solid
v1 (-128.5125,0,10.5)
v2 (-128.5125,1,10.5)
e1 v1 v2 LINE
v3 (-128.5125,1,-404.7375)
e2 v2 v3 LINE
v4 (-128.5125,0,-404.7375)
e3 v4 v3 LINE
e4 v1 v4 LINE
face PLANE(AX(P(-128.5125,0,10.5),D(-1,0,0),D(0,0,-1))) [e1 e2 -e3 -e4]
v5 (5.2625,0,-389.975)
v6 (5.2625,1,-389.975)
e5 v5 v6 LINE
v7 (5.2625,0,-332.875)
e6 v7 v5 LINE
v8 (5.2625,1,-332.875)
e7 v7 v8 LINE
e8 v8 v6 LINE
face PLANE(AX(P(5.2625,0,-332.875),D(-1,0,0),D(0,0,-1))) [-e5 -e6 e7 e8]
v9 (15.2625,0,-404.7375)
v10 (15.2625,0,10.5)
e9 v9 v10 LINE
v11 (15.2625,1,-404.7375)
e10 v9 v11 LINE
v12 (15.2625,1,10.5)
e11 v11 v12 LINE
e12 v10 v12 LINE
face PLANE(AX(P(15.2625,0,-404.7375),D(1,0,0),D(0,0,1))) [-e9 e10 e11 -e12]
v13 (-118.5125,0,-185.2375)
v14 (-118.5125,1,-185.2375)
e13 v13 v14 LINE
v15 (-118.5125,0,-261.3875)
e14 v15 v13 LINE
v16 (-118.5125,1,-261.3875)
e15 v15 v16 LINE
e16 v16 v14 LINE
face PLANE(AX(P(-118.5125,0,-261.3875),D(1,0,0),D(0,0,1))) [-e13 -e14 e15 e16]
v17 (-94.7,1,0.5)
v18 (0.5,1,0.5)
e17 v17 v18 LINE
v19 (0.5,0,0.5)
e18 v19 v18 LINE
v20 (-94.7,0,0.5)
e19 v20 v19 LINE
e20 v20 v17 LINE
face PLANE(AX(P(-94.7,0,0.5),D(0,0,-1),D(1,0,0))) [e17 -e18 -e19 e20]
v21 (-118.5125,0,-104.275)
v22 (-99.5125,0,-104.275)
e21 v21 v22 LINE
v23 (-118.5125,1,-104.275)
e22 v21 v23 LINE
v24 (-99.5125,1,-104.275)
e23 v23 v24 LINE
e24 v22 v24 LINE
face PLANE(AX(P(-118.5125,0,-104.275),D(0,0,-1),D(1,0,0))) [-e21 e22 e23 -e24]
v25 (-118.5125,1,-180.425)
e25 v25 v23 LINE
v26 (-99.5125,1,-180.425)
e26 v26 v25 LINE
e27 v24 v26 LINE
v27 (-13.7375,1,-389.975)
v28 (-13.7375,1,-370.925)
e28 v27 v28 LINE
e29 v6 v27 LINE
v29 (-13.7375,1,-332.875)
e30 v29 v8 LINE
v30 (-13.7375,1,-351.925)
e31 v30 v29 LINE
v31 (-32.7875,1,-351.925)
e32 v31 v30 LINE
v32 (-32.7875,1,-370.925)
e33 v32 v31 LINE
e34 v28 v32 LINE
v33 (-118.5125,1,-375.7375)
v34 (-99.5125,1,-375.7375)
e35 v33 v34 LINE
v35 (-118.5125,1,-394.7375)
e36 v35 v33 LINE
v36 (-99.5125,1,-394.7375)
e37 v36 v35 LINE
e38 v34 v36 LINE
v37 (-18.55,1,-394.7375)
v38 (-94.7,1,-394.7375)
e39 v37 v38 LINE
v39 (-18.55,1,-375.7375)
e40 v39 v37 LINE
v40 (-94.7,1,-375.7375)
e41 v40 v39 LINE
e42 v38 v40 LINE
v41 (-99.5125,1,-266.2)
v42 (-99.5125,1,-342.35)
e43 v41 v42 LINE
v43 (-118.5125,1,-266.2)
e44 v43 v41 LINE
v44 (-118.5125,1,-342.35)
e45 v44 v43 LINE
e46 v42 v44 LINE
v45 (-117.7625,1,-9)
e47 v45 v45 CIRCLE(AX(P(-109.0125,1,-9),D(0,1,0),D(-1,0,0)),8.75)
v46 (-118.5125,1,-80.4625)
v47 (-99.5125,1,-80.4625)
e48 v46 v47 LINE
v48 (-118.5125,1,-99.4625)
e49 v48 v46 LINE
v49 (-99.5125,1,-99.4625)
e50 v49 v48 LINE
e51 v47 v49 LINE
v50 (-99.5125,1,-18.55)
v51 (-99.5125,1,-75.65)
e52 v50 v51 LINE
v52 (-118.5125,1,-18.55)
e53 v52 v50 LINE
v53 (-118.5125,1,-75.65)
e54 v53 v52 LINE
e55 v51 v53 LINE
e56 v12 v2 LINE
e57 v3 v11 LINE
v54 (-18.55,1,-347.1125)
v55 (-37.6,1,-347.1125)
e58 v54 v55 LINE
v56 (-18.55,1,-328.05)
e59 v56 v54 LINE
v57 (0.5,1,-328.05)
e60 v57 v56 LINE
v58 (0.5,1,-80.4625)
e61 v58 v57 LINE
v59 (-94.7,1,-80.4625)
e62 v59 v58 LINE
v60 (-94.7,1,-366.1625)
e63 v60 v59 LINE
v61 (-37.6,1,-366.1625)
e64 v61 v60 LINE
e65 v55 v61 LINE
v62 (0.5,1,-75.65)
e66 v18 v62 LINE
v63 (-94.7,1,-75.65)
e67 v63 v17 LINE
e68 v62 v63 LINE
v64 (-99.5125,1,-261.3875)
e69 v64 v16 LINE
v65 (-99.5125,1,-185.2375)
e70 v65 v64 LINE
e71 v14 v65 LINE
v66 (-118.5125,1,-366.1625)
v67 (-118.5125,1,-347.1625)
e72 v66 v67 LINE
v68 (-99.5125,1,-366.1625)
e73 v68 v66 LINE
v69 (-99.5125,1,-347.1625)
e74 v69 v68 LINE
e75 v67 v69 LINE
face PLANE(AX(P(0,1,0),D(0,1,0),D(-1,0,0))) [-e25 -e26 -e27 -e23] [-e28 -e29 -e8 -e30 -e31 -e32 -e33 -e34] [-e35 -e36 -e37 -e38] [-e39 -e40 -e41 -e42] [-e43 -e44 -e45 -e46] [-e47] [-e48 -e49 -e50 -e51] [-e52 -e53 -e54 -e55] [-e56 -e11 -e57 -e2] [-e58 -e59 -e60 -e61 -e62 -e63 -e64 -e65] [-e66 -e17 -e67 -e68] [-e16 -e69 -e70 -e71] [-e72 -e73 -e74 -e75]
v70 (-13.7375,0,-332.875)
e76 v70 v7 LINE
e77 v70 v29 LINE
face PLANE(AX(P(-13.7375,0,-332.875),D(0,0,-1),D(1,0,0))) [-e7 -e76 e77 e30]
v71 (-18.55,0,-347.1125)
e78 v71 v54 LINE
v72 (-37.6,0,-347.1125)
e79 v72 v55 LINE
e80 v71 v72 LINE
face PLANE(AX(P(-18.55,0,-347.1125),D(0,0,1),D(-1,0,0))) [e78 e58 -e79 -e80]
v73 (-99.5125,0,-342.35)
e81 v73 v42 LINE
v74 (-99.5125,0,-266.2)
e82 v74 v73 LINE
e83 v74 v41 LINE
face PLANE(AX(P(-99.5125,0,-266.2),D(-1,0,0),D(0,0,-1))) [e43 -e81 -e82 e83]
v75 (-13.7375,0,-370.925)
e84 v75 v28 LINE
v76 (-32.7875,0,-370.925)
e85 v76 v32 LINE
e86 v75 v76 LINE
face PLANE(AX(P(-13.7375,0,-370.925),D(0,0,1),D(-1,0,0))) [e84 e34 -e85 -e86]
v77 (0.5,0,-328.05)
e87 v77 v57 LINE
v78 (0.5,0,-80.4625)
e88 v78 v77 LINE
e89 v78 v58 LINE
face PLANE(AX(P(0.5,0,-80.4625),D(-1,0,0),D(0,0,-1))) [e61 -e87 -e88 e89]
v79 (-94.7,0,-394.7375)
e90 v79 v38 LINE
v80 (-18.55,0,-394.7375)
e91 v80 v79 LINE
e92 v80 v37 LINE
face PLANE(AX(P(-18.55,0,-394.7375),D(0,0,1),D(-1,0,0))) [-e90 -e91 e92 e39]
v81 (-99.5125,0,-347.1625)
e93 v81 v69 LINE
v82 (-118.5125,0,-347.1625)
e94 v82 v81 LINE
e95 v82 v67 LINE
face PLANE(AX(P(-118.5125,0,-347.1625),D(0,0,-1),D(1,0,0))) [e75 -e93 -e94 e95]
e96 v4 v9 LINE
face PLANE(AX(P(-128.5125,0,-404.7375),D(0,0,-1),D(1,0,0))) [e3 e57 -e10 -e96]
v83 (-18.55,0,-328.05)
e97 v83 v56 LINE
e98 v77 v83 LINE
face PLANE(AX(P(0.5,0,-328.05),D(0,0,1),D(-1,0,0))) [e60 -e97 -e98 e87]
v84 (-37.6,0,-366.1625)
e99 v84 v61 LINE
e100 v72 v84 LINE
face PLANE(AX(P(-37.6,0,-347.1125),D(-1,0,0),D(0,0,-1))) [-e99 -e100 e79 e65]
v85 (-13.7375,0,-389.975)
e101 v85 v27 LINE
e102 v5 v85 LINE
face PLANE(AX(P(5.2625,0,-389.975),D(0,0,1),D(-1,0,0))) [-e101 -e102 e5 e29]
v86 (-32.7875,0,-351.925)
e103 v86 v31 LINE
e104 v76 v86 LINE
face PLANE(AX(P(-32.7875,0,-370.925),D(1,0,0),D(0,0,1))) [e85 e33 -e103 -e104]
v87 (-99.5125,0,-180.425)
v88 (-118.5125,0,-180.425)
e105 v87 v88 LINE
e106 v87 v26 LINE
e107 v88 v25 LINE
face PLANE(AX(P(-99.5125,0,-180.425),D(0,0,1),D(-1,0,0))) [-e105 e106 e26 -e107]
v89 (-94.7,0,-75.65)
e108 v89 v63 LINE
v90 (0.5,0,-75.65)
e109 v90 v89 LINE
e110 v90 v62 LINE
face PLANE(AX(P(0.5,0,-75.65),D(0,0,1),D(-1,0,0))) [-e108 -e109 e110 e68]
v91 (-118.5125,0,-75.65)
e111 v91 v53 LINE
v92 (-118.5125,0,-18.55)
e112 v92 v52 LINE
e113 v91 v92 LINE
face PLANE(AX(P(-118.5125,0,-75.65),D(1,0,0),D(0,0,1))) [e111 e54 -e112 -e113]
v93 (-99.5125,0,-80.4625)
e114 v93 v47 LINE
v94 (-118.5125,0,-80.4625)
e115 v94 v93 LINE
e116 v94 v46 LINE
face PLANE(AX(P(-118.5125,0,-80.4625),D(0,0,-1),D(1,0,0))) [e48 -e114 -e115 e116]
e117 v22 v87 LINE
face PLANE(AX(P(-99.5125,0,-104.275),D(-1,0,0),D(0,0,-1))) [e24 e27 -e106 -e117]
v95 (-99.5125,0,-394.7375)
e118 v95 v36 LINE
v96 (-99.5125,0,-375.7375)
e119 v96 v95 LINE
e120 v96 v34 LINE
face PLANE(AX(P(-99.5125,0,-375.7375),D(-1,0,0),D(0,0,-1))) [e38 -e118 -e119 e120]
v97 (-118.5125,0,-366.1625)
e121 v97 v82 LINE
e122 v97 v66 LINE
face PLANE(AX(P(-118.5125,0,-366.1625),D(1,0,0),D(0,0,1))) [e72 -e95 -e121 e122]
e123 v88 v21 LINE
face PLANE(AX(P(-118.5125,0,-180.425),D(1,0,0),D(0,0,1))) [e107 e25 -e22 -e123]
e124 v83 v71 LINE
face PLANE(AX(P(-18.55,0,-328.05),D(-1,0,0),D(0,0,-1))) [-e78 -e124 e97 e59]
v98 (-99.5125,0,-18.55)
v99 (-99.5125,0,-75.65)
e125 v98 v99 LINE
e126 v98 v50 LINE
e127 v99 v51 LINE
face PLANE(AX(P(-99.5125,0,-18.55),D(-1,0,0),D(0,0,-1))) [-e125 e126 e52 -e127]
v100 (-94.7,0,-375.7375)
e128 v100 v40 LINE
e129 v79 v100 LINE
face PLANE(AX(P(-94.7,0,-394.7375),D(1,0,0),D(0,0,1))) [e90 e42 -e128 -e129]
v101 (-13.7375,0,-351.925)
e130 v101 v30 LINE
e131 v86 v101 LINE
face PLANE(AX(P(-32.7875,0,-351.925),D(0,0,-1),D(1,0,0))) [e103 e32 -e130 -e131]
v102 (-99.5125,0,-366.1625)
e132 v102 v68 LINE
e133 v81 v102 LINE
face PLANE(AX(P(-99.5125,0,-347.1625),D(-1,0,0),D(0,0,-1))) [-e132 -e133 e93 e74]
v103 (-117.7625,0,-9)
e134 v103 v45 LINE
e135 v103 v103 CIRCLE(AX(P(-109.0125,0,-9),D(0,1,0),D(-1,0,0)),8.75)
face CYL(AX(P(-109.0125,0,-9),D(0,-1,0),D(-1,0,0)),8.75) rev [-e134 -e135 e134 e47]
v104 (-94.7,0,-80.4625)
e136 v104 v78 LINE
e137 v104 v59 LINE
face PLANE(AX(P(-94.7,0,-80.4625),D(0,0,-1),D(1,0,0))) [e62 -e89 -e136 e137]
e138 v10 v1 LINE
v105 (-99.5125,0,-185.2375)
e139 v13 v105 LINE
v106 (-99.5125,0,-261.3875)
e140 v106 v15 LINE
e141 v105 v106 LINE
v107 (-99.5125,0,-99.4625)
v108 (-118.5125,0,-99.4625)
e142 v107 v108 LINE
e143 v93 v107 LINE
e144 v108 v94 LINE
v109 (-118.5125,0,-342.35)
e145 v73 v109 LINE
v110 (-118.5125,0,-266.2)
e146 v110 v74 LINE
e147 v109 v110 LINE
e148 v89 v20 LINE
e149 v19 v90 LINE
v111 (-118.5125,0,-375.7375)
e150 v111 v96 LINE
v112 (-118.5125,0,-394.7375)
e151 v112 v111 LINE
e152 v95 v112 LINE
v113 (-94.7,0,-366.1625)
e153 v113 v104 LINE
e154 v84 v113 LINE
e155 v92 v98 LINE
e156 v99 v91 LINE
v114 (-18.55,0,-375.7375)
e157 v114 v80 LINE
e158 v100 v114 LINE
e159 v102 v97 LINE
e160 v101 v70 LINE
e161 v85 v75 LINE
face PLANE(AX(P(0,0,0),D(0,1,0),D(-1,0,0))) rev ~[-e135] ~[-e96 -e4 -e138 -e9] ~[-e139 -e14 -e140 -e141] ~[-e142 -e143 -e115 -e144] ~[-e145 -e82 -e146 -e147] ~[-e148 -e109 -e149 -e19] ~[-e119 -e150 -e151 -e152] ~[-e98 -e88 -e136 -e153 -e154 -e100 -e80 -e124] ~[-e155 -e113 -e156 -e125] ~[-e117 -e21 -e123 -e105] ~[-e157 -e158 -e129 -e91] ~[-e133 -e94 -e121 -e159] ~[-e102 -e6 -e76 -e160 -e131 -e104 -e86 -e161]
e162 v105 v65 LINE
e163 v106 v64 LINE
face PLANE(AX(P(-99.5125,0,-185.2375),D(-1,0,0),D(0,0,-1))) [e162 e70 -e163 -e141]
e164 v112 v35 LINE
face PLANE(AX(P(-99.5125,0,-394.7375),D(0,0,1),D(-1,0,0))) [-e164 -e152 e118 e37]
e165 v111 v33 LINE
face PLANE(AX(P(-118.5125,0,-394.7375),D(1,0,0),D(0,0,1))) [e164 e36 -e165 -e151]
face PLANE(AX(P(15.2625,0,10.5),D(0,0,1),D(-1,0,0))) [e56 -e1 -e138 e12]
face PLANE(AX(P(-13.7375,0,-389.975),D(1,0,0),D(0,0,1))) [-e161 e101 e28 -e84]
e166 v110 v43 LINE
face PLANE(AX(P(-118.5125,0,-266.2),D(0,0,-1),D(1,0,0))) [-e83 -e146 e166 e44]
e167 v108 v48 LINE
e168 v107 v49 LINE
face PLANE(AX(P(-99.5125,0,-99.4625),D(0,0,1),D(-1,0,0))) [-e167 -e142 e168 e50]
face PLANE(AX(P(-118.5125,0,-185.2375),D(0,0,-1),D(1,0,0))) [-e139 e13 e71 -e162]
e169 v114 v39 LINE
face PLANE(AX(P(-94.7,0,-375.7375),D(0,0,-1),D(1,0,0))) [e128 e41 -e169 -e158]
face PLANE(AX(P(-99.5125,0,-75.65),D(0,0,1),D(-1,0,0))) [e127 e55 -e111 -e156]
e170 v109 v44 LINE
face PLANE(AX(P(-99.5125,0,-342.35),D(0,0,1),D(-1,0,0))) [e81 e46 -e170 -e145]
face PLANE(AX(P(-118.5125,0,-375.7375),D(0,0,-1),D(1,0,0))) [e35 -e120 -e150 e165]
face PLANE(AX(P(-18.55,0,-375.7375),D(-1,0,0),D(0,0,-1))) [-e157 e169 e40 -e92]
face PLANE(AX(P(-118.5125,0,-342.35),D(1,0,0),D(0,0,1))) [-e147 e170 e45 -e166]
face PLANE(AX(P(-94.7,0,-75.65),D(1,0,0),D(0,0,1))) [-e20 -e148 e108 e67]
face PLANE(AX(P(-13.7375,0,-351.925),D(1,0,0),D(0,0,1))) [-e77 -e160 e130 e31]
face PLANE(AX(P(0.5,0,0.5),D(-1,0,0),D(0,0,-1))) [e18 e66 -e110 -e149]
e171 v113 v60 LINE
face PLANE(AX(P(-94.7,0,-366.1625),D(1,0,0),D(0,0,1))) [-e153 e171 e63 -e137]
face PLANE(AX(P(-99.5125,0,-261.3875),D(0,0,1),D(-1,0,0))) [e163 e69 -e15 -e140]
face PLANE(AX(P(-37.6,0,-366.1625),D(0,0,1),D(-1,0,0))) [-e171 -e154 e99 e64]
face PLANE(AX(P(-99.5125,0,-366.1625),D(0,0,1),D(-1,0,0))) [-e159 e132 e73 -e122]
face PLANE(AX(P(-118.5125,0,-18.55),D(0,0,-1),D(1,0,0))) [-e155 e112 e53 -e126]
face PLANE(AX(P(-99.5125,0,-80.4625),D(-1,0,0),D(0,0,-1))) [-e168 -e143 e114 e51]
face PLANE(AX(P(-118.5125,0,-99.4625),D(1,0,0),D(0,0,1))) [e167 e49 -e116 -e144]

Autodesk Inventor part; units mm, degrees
ref_plane "YZ Plane" through (0, 0, 0) normal (1, 0, 0) x (0, 1, 0)
ref_plane "XZ Plane" through (0, 0, 0) normal (0, 1, 0) x (-1, 0, 0)
ref_plane "XY Plane" through (0, 0, 0) normal (0, 0, 1) x (1, 0, 0)
sketch "Sketch1" plane through (0, 0, 0) normal (0, 1, 0) x (-1, 0, 0)
  line L0 (0, 0) -> (18, 0)
  line L1 (18, 0) -> (18, -37.05)
  line L2 (18, -37.05) -> (0, -37.05)
  line L3 (0, -37.05) -> (0, 0)
  line L4 (18, -38.1) -> (0, -38.1)
  line L5 (0, -38.1) -> (0, -56.1)
  line L6 (0, -56.1) -> (18, -56.1)
  line L7 (18, -56.1) -> (18, -38.1)
  line L8 (0, -57.15) -> (37.05, -57.15)
  line L9 (37.05, -57.15) -> (37.05, -75.15)
  line L10 (37.05, -75.15) -> (0, -75.15)
  line L11 (0, -75.15) -> (0, -57.15)
  line L12 (19.05, -56.1) -> (37.05, -56.1)
  line L13 (37.05, -56.1) -> (37.05, -38.1)
  line L14 (37.05, -38.1) -> (19.05, -38.1)
  line L15 (19.05, -38.1) -> (19.05, -56.1)
  line L16 (19.05, -37.05) -> (37.05, -37.05)
  line L17 (37.05, -37.05) -> (37.05, -19.05)
  line L18 (37.05, -19.05) -> (19.05, -19.05)
  line L19 (19.05, -19.05) -> (19.05, -37.05)
  line L20 (19.05, -18) -> (37.05, -18)
  line L21 (37.05, -18) -> (37.05, 0)
  line L22 (37.05, 0) -> (19.05, 0)
  line L23 (19.05, 0) -> (19.05, -18)
  line L24 (38.1, 0) -> (56.1, 0)
  line L25 (56.1, 0) -> (56.1, -18)
  line L26 (56.1, -18) -> (38.1, -18)
  line L27 (38.1, -18) -> (38.1, 0)
  line L28 (38.1, -19.05) -> (56.1, -19.05)
  line L29 (56.1, -19.05) -> (56.1, -37.05)
  line L30 (56.1, -37.05) -> (38.1, -37.05)
  line L31 (38.1, -37.05) -> (38.1, -19.05)
  line L32 (38.1, -38.1) -> (56.1, -38.1)
  line L33 (56.1, -38.1) -> (56.1, -56.1)
  line L34 (56.1, -56.1) -> (38.1, -56.1)
  line L35 (38.1, -56.1) -> (38.1, -38.1)
  line L36 (38.1, -57.15) -> (75.15, -57.15)
  line L37 (75.15, -57.15) -> (75.15, -75.15)
  line L38 (75.15, -75.15) -> (38.1, -75.15)
  line L39 (38.1, -75.15) -> (38.1, -57.15)
  line L40 (57.15, -56.1) -> (75.15, -56.1)
  line L41 (75.15, -56.1) -> (75.15, -38.1)
  line L42 (75.15, -38.1) -> (57.15, -38.1)
  line L43 (57.15, -38.1) -> (57.15, -56.1)
  line L44 (57.15, -37.05) -> (75.15, -37.05)
  line L45 (75.15, -37.05) -> (75.15, -19.05)
  line L46 (75.15, -19.05) -> (57.15, -19.05)
  line L47 (57.15, -19.05) -> (57.15, -37.05)
  line L48 (57.15, -18) -> (75.15, -18)
  line L49 (75.15, -18) -> (75.15, 0)
  line L50 (75.15, 0) -> (57.15, 0)
  line L51 (57.15, 0) -> (57.15, -18)
  line L52 (76.2, 0) -> (94.2, 0)
  line L53 (94.2, 0) -> (94.2, -18)
  line L54 (94.2, -18) -> (76.2, -18)
  line L55 (76.2, -18) -> (76.2, 0)
  line L56 (76.2, -19.05) -> (94.2, -19.05)
  line L57 (94.2, -19.05) -> (94.2, -37.05)
  line L58 (94.2, -37.05) -> (76.2, -37.05)
  line L59 (76.2, -37.05) -> (76.2, -19.05)
  line L60 (76.2, -38.1) -> (94.2, -38.1)
  line L61 (94.2, -38.1) -> (94.2, -56.1)
  line L62 (94.2, -56.1) -> (76.2, -56.1)
  line L63 (76.2, -56.1) -> (76.2, -38.1)
  line L64 (76.2, -57.15) -> (94.2, -57.15)
  line L65 (94.2, -57.15) -> (94.2, -75.15)
  line L66 (94.2, -75.15) -> (76.2, -75.15)
  line L67 (76.2, -75.15) -> (76.2, -57.15)
  line L68 (100.0125, -19.05) -> (118.0125, -19.05)
  line L69 (118.0125, -19.05) -> (118.0125, -37.05)
  line L70 (118.0125, -37.05) -> (100.0125, -37.05)
  line L71 (100.0125, -37.05) -> (100.0125, -19.05)
  line L72 (100.0125, -38.1) -> (118.0125, -38.1)
  line L73 (118.0125, -38.1) -> (118.0125, -56.1)
  line L74 (118.0125, -56.1) -> (100.0125, -56.1)
  line L75 (100.0125, -56.1) -> (100.0125, -38.1)
  line L76 (100.0125, -57.15) -> (118.0125, -57.15)
  line L77 (118.0125, -57.15) -> (118.0125, -75.15)
  line L78 (118.0125, -75.15) -> (100.0125, -75.15)
  line L79 (100.0125, -75.15) -> (100.0125, -57.15)
  line L80 (0, -80.9625) -> (18, -80.9625)
  line L81 (18, -80.9625) -> (18, -103.725)
  line L82 (18, -103.725) -> (0, -103.725)
  line L83 (0, -103.725) -> (0, -80.9625)
  line L84 (0, -104.775) -> (18, -104.775)
  line L85 (18, -104.775) -> (18, -127.5375)
  line L86 (18, -127.5375) -> (0, -127.5375)
  line L87 (0, -127.5375) -> (0, -104.775)
  line L88 (0, -128.5875) -> (18, -128.5875)
  line L89 (18, -128.5875) -> (18, -151.35)
  line L90 (18, -151.35) -> (0, -151.35)
  line L91 (0, -151.35) -> (0, -128.5875)
  line L92 (0, -152.4) -> (18, -152.4)
  line L93 (18, -152.4) -> (18, -270.4)
  line L94 (18, -270.4) -> (0, -270.4)
  line L95 (0, -270.4) -> (0, -152.4)
  line L96 (0, -271.45) -> (18, -271.45)
  line L97 (18, -271.45) -> (18, -289.45)
  line L98 (18, -289.45) -> (0, -289.45)
  line L99 (0, -289.45) -> (0, -271.45)
  line L100 (0, -290.5) -> (18, -290.5)
  line L101 (18, -290.5) -> (18, -308.5)
  line L102 (18, -308.5) -> (0, -308.5)
  line L103 (0, -308.5) -> (0, -290.5)
  line L104 (0, -309.55) -> (18, -309.55)
  line L105 (18, -309.55) -> (18, -327.55)
  line L106 (18, -327.55) -> (0, -327.55)
  line L107 (0, -327.55) -> (0, -309.55)
  line L108 (19.05, -80.9625) -> (37.05, -80.9625)
  line L109 (37.05, -80.9625) -> (37.05, -122.775)
  line L110 (37.05, -122.775) -> (19.05, -122.775)
  line L111 (19.05, -122.775) -> (19.05, -80.9625)
  line L112 (38.1, -80.9625) -> (56.1, -80.9625)
  line L113 (56.1, -80.9625) -> (56.1, -113.25)
  line L114 (56.1, -113.25) -> (38.1, -113.25)
  line L115 (38.1, -113.25) -> (38.1, -80.9625)
  line L116 (57.15, -80.9625) -> (75.15, -80.9625)
  line L117 (75.15, -80.9625) -> (75.15, -108.4875)
  line L118 (75.15, -108.4875) -> (57.15, -108.4875)
  line L119 (57.15, -108.4875) -> (57.15, -80.9625)
  line L120 (76.2, -80.9625) -> (94.2, -80.9625)
  line L121 (94.2, -80.9625) -> (94.2, -98.9625)
  line L122 (94.2, -98.9625) -> (76.2, -98.9625)
  line L123 (76.2, -98.9625) -> (76.2, -80.9625)
  line L124 (19.05, -123.825) -> (37.05, -123.825)
  line L125 (37.05, -123.825) -> (37.05, -141.825)
  line L126 (37.05, -141.825) -> (19.05, -141.825)
  line L127 (19.05, -141.825) -> (19.05, -123.825)
  line L128 (19.05, -142.875) -> (37.05, -142.875)
  line L129 (37.05, -142.875) -> (37.05, -160.875)
  line L130 (37.05, -160.875) -> (19.05, -160.875)
  line L131 (19.05, -160.875) -> (19.05, -142.875)
  line L132 (19.05, -161.925) -> (37.05, -161.925)
  line L133 (37.05, -161.925) -> (37.05, -179.925)
  line L134 (37.05, -179.925) -> (19.05, -179.925)
  line L135 (19.05, -179.925) -> (19.05, -161.925)
  line L136 (19.05, -180.975) -> (37.05, -180.975)
  line L137 (37.05, -180.975) -> (37.05, -198.975)
  line L138 (37.05, -198.975) -> (19.05, -198.975)
  line L139 (19.05, -198.975) -> (19.05, -180.975)
  line L140 (19.05, -200.025) -> (37.05, -200.025)
  line L141 (37.05, -200.025) -> (37.05, -218.025)
  line L142 (37.05, -218.025) -> (19.05, -218.025)
  line L143 (19.05, -218.025) -> (19.05, -200.025)
  line L144 (19.05, -219.075) -> (37.05, -219.075)
  line L145 (37.05, -219.075) -> (37.05, -237.075)
  line L146 (37.05, -237.075) -> (19.05, -237.075)
  line L147 (19.05, -237.075) -> (19.05, -219.075)
  line L148 (19.05, -238.125) -> (37.05, -238.125)
  line L149 (37.05, -238.125) -> (37.05, -256.125)
  line L150 (37.05, -256.125) -> (19.05, -256.125)
  line L151 (19.05, -256.125) -> (19.05, -238.125)
  line L152 (19.05, -257.175) -> (37.05, -257.175)
  line L153 (37.05, -257.175) -> (37.05, -275.175)
  line L154 (37.05, -275.175) -> (19.05, -275.175)
  line L155 (19.05, -275.175) -> (19.05, -257.175)
  line L156 (19.05, -276.225) -> (37.05, -276.225)
  line L157 (37.05, -276.225) -> (37.05, -294.225)
  line L158 (37.05, -294.225) -> (19.05, -294.225)
  line L159 (19.05, -294.225) -> (19.05, -276.225)
  line L160 (19.05, -313.275) -> (37.05, -313.275)
  line L161 (37.05, -313.275) -> (37.05, -295.275)
  line L162 (37.05, -295.275) -> (19.05, -295.275)
  line L163 (19.05, -295.275) -> (19.05, -313.275)
  line L164 (19.05, -314.325) -> (37.05, -314.325)
  line L165 (37.05, -314.325) -> (37.05, -346.6125)
  line L166 (37.05, -346.6125) -> (19.05, -346.6125)
  line L167 (19.05, -346.6125) -> (19.05, -314.325)
  line L168 (38.1, -114.3) -> (56.1, -114.3)
  line L169 (56.1, -114.3) -> (56.1, -132.3)
  line L170 (56.1, -132.3) -> (38.1, -132.3)
  line L171 (38.1, -132.3) -> (38.1, -114.3)
  line L172 (38.1, -133.35) -> (56.1, -133.35)
  line L173 (56.1, -133.35) -> (56.1, -151.35)
  line L174 (56.1, -151.35) -> (38.1, -151.35)
  line L175 (38.1, -151.35) -> (38.1, -133.35)
  line L176 (38.1, -152.4) -> (56.1, -152.4)
  line L177 (56.1, -152.4) -> (56.1, -170.4)
  line L178 (56.1, -170.4) -> (38.1, -170.4)
  line L179 (38.1, -170.4) -> (38.1, -152.4)
  line L180 (38.1, -171.45) -> (56.1, -171.45)
  line L181 (56.1, -171.45) -> (56.1, -189.45)
  line L182 (56.1, -189.45) -> (38.1, -189.45)
  line L183 (38.1, -189.45) -> (38.1, -171.45)
  line L184 (38.1, -190.5) -> (56.1, -190.5)
  line L185 (56.1, -190.5) -> (56.1, -208.5)
  line L186 (56.1, -208.5) -> (38.1, -208.5)
  line L187 (38.1, -208.5) -> (38.1, -190.5)
  line L188 (56.1, -209.55) -> (38.1, -209.55)
  line L189 (38.1, -209.55) -> (38.1, -227.55)
  line L190 (38.1, -227.55) -> (56.1, -227.55)
  line L191 (56.1, -227.55) -> (56.1, -209.55)
  line L192 (38.1, -228.6) -> (56.1, -228.6)
  line L193 (56.1, -228.6) -> (56.1, -246.6)
  line L194 (56.1, -246.6) -> (38.1, -246.6)
  line L195 (38.1, -246.6) -> (38.1, -228.6)
  line L196 (38.1, -247.65) -> (56.1, -247.65)
  line L197 (56.1, -247.65) -> (56.1, -265.65)
  line L198 (56.1, -265.65) -> (38.1, -265.65)
  line L199 (38.1, -265.65) -> (38.1, -247.65)
  line L200 (38.1, -266.7) -> (56.1, -266.7)
  line L201 (56.1, -266.7) -> (56.1, -284.7)
  line L202 (56.1, -284.7) -> (38.1, -284.7)
  line L203 (38.1, -284.7) -> (38.1, -266.7)
  line L204 (38.1, -285.75) -> (56.1, -285.75)
  line L205 (56.1, -285.75) -> (56.1, -303.75)
  line L206 (56.1, -303.75) -> (38.1, -303.75)
  line L207 (38.1, -303.75) -> (38.1, -285.75)
  line L208 (38.1, -304.8) -> (56.1, -304.8)
  line L209 (56.1, -304.8) -> (56.1, -322.8)
  line L210 (56.1, -322.8) -> (38.1, -322.8)
  line L211 (38.1, -322.8) -> (38.1, -304.8)
  line L212 (38.1, -323.85) -> (56.1, -323.85)
  line L213 (56.1, -323.85) -> (56.1, -365.6625)
  line L214 (56.1, -365.6625) -> (38.1, -365.6625)
  line L215 (38.1, -365.6625) -> (38.1, -323.85)
  line L216 (75.15, -109.5375) -> (57.15, -109.5375)
  line L217 (57.15, -109.5375) -> (57.15, -127.5375)
  line L218 (57.15, -127.5375) -> (75.15, -127.5375)
  line L219 (75.15, -127.5375) -> (75.15, -109.5375)
  line L220 (75.15, -128.5875) -> (57.15, -128.5875)
  line L221 (57.15, -128.5875) -> (57.15, -146.5875)
  line L222 (57.15, -146.5875) -> (75.15, -146.5875)
  line L223 (75.15, -146.5875) -> (75.15, -128.5875)
  line L224 (75.15, -147.6375) -> (57.15, -147.6375)
  line L225 (57.15, -147.6375) -> (57.15, -165.6375)
  line L226 (57.15, -165.6375) -> (75.15, -165.6375)
  line L227 (75.15, -165.6375) -> (75.15, -147.6375)
  line L228 (75.15, -166.6875) -> (57.15, -166.6875)
  line L229 (57.15, -166.6875) -> (57.15, -184.6875)
  line L230 (57.15, -184.6875) -> (75.15, -184.6875)
  line L231 (75.15, -184.6875) -> (75.15, -166.6875)
  line L232 (75.15, -185.7375) -> (57.15, -185.7375)
  line L233 (57.15, -185.7375) -> (57.15, -203.7375)
  line L234 (57.15, -203.7375) -> (75.15, -203.7375)
  line L235 (75.15, -203.7375) -> (75.15, -185.7375)
  line L236 (75.15, -204.7875) -> (57.15, -204.7875)
  line L237 (57.15, -204.7875) -> (57.15, -222.7875)
  line L238 (57.15, -222.7875) -> (75.15, -222.7875)
  line L239 (75.15, -222.7875) -> (75.15, -204.7875)
  line L240 (75.15, -223.8375) -> (57.15, -223.8375)
  line L241 (57.15, -223.8375) -> (57.15, -241.8375)
  line L242 (57.15, -241.8375) -> (75.15, -241.8375)
  line L243 (75.15, -241.8375) -> (75.15, -223.8375)
  line L244 (75.15, -242.8875) -> (57.15, -242.8875)
  line L245 (57.15, -242.8875) -> (57.15, -260.8875)
  line L246 (57.15, -260.8875) -> (75.15, -260.8875)
  line L247 (75.15, -260.8875) -> (75.15, -242.8875)
  line L248 (75.15, -261.9375) -> (57.15, -261.9375)
  line L249 (57.15, -261.9375) -> (57.15, -279.9375)
  line L250 (57.15, -279.9375) -> (75.15, -279.9375)
  line L251 (75.15, -279.9375) -> (75.15, -261.9375)
  line L252 (75.15, -280.9875) -> (57.15, -280.9875)
  line L253 (57.15, -280.9875) -> (57.15, -298.9875)
  line L254 (57.15, -298.9875) -> (75.15, -298.9875)
  line L255 (75.15, -298.9875) -> (75.15, -280.9875)
  line L256 (57.15, -300.0375) -> (75.15, -300.0375)
  line L257 (75.15, -300.0375) -> (75.15, -318.0375)
  line L258 (75.15, -318.0375) -> (57.15, -318.0375)
  line L259 (57.15, -318.0375) -> (57.15, -300.0375)
  line L260 (57.15, -319.0875) -> (75.15, -319.0875)
  line L261 (75.15, -319.0875) -> (75.15, -337.0875)
  line L262 (75.15, -337.0875) -> (57.15, -337.0875)
  line L263 (57.15, -337.0875) -> (57.15, -319.0875)
  line L264 (75.15, -338.1375) -> (57.15, -338.1375)
  line L265 (57.15, -338.1375) -> (57.15, -365.6625)
  line L266 (57.15, -365.6625) -> (75.15, -365.6625)
  line L267 (75.15, -365.6625) -> (75.15, -338.1375)
  line L268 (76.2, -100.0125) -> (94.2, -100.0125)
  line L269 (94.2, -100.0125) -> (94.2, -118.0125)
  line L270 (94.2, -118.0125) -> (76.2, -118.0125)
  line L271 (76.2, -118.0125) -> (76.2, -100.0125)
  line L272 (76.2, -119.0625) -> (94.2, -119.0625)
  line L273 (94.2, -119.0625) -> (94.2, -137.0625)
  line L274 (94.2, -137.0625) -> (76.2, -137.0625)
  line L275 (76.2, -137.0625) -> (76.2, -119.0625)
  line L276 (76.2, -138.1125) -> (94.2, -138.1125)
  line L277 (94.2, -138.1125) -> (94.2, -156.1125)
  line L278 (94.2, -156.1125) -> (76.2, -156.1125)
  line L279 (76.2, -156.1125) -> (76.2, -138.1125)
  line L280 (76.2, -157.1625) -> (94.2, -157.1625)
  line L281 (94.2, -157.1625) -> (94.2, -175.1625)
  line L282 (94.2, -175.1625) -> (76.2, -175.1625)
  line L283 (76.2, -175.1625) -> (76.2, -157.1625)
  line L284 (76.2, -176.2125) -> (94.2, -176.2125)
  line L285 (94.2, -176.2125) -> (94.2, -194.2125)
  line L286 (94.2, -194.2125) -> (76.2, -194.2125)
  line L287 (76.2, -194.2125) -> (76.2, -176.2125)
  line L288 (76.2, -195.2625) -> (94.2, -195.2625)
  line L289 (94.2, -195.2625) -> (94.2, -213.2625)
  line L290 (94.2, -213.2625) -> (76.2, -213.2625)
  line L291 (76.2, -213.2625) -> (76.2, -195.2625)
  line L292 (76.2, -214.3125) -> (94.2, -214.3125)
  line L293 (94.2, -214.3125) -> (94.2, -232.3125)
  line L294 (94.2, -232.3125) -> (76.2, -232.3125)
  line L295 (76.2, -232.3125) -> (76.2, -214.3125)
  line L296 (76.2, -233.3625) -> (94.2, -233.3625)
  line L297 (94.2, -233.3625) -> (94.2, -251.3625)
  line L298 (94.2, -251.3625) -> (76.2, -251.3625)
  line L299 (76.2, -251.3625) -> (76.2, -233.3625)
  line L300 (76.2, -252.4125) -> (94.2, -252.4125)
  line L301 (94.2, -252.4125) -> (94.2, -270.4125)
  line L302 (94.2, -270.4125) -> (76.2, -270.4125)
  line L303 (76.2, -270.4125) -> (76.2, -252.4125)
  line L304 (76.2, -271.4625) -> (94.2, -271.4625)
  line L305 (94.2, -271.4625) -> (94.2, -289.4625)
  line L306 (94.2, -289.4625) -> (76.2, -289.4625)
  line L307 (76.2, -289.4625) -> (76.2, -271.4625)
  line L308 (76.2, -290.5125) -> (94.2, -290.5125)
  line L309 (94.2, -290.5125) -> (94.2, -308.5125)
  line L310 (94.2, -308.5125) -> (76.2, -308.5125)
  line L311 (76.2, -308.5125) -> (76.2, -290.5125)
  line L312 (76.2, -309.5625) -> (94.2, -309.5625)
  line L313 (94.2, -309.5625) -> (94.2, -327.5625)
  line L314 (94.2, -327.5625) -> (76.2, -327.5625)
  line L315 (76.2, -327.5625) -> (76.2, -309.5625)
  line L316 (76.2, -328.6125) -> (94.2, -328.6125)
  line L317 (94.2, -328.6125) -> (94.2, -365.6625)
  line L318 (94.2, -365.6625) -> (76.2, -365.6625)
  line L319 (76.2, -365.6625) -> (76.2, -328.6125)
  line L320 (100.0125, -80.9625) -> (118.0125, -80.9625)
  line L321 (118.0125, -80.9625) -> (118.0125, -98.9625)
  line L322 (118.0125, -98.9625) -> (100.0125, -98.9625)
  line L323 (100.0125, -98.9625) -> (100.0125, -80.9625)
  line L324 (118.0125, -104.775) -> (100.0125, -104.775)
  line L325 (100.0125, -104.775) -> (100.0125, -122.775)
  line L326 (100.0125, -122.775) -> (118.0125, -122.775)
  line L327 (118.0125, -122.775) -> (118.0125, -104.775)
  line L328 (118.0125, -123.825) -> (100.0125, -123.825)
  line L329 (100.0125, -123.825) -> (100.0125, -141.825)
  line L330 (100.0125, -141.825) -> (118.0125, -141.825)
  line L331 (118.0125, -141.825) -> (118.0125, -123.825)
  line L332 (118.0125, -142.875) -> (100.0125, -142.875)
  line L333 (100.0125, -142.875) -> (100.0125, -160.875)
  line L334 (100.0125, -160.875) -> (118.0125, -160.875)
  line L335 (118.0125, -160.875) -> (118.0125, -142.875)
  line L336 (118.0125, -161.925) -> (100.0125, -161.925)
  line L337 (100.0125, -161.925) -> (100.0125, -179.925)
  line L338 (100.0125, -179.925) -> (118.0125, -179.925)
  line L339 (118.0125, -179.925) -> (118.0125, -161.925)
  line L340 (118.0125, -203.7375) -> (100.0125, -203.7375)
  line L341 (100.0125, -203.7375) -> (100.0125, -185.7375)
  line L342 (100.0125, -185.7375) -> (118.0125, -185.7375)
  line L343 (118.0125, -185.7375) -> (118.0125, -203.7375)
  line L344 (118.0125, -204.7875) -> (100.0125, -204.7875)
  line L345 (100.0125, -204.7875) -> (100.0125, -222.7875)
  line L346 (100.0125, -222.7875) -> (118.0125, -222.7875)
  line L347 (118.0125, -222.7875) -> (118.0125, -204.7875)
  line L348 (118.0125, -223.8375) -> (100.0125, -223.8375)
  line L349 (100.0125, -223.8375) -> (100.0125, -241.8375)
  line L350 (100.0125, -241.8375) -> (118.0125, -241.8375)
  line L351 (118.0125, -241.8375) -> (118.0125, -223.8375)
  line L352 (118.0125, -242.8875) -> (100.0125, -242.8875)
  line L353 (100.0125, -242.8875) -> (100.0125, -260.8875)
  line L354 (100.0125, -260.8875) -> (118.0125, -260.8875)
  line L355 (118.0125, -260.8875) -> (118.0125, -242.8875)
  line L356 (118.0125, -266.7) -> (100.0125, -266.7)
  line L357 (100.0125, -266.7) -> (100.0125, -284.7)
  line L358 (100.0125, -284.7) -> (118.0125, -284.7)
  line L359 (118.0125, -284.7) -> (118.0125, -266.7)
  line L360 (118.0125, -285.75) -> (100.0125, -285.75)
  line L361 (100.0125, -285.75) -> (100.0125, -303.75)
  line L362 (100.0125, -303.75) -> (118.0125, -303.75)
  line L363 (118.0125, -303.75) -> (118.0125, -285.75)
  line L364 (118.0125, -304.8) -> (100.0125, -304.8)
  line L365 (100.0125, -304.8) -> (100.0125, -322.8)
  line L366 (100.0125, -322.8) -> (118.0125, -322.8)
  line L367 (118.0125, -322.8) -> (118.0125, -304.8)
  line L368 (118.0125, -323.85) -> (100.0125, -323.85)
  line L369 (100.0125, -323.85) -> (100.0125, -341.85)
  line L370 (100.0125, -341.85) -> (118.0125, -341.85)
  line L371 (118.0125, -341.85) -> (118.0125, -323.85)
  line L372 (118.0125, -347.6625) -> (100.0125, -347.6625)
  line L373 (100.0125, -347.6625) -> (100.0125, -365.6625)
  line L374 (100.0125, -365.6625) -> (118.0125, -365.6625)
  line L375 (118.0125, -365.6625) -> (118.0125, -347.6625)
  line L376 (118.0125, -376.2375) -> (100.0125, -376.2375)
  line L377 (100.0125, -376.2375) -> (100.0125, -394.2375)
  line L378 (100.0125, -394.2375) -> (118.0125, -394.2375)
  line L379 (118.0125, -394.2375) -> (118.0125, -376.2375)
  line L380 (13.2375, -333.375) -> (-4.7625, -333.375)
  line L381 (-4.7625, -333.375) -> (-4.7625, -351.375)
  line L382 (-4.7625, -351.375) -> (13.2375, -351.375)
  line L383 (13.2375, -351.375) -> (13.2375, -333.375)
  line L384 (13.2375, -352.425) -> (-4.7625, -352.425)
  line L385 (-4.7625, -352.425) -> (-4.7625, -370.425)
  line L386 (-4.7625, -370.425) -> (13.2375, -370.425)
  line L387 (13.2375, -370.425) -> (13.2375, -352.425)
  line L388 (13.2375, -371.475) -> (-4.7625, -371.475)
  line L389 (-4.7625, -371.475) -> (-4.7625, -389.475)
  line L390 (-4.7625, -389.475) -> (13.2375, -389.475)
  line L391 (13.2375, -389.475) -> (13.2375, -371.475)
  line L392 (14.2875, -370.425) -> (32.2875, -370.425)
  line L393 (32.2875, -370.425) -> (32.2875, -352.425)
  line L394 (32.2875, -352.425) -> (14.2875, -352.425)
  line L395 (14.2875, -352.425) -> (14.2875, -370.425)
  line L396 (19.05, -376.2375) -> (37.05, -376.2375)
  line L397 (37.05, -376.2375) -> (37.05, -394.2375)
  line L398 (37.05, -394.2375) -> (19.05, -394.2375)
  line L399 (19.05, -394.2375) -> (19.05, -376.2375)
  line L400 (57.15, -376.2375) -> (75.15, -376.2375)
  line L401 (75.15, -376.2375) -> (75.15, -394.2375)
  line L402 (75.15, -394.2375) -> (57.15, -394.2375)
  line L403 (57.15, -394.2375) -> (57.15, -376.2375)
  line L404 (76.2, -376.2375) -> (94.2, -376.2375)
  line L405 (94.2, -376.2375) -> (94.2, -394.2375)
  line L406 (94.2, -394.2375) -> (76.2, -394.2375)
  line L407 (76.2, -394.2375) -> (76.2, -376.2375)
  line L408 (56.1, -376.2375) -> (38.1, -376.2375)
  line L409 (38.1, -376.2375) -> (38.1, -394.2375)
  line L410 (38.1, -394.2375) -> (56.1, -394.2375)
  line L411 (56.1, -394.2375) -> (56.1, -376.2375)
  circle A0 centre (109.0125, -9) radius 8.5
  circle A1 centre (109.0125, -9) radius 8.75
  line L412 (118.5125, -18.55) -> (99.5125, -18.55)
  line L413 (99.5125, -18.55) -> (99.5125, -75.65)
  line L414 (99.5125, -75.65) -> (118.5125, -75.65)
  line L415 (118.5125, -75.65) -> (118.5125, -18.55)
  line L416 (118.5125, -80.4625) -> (99.5125, -80.4625)
  line L417 (99.5125, -80.4625) -> (99.5125, -99.4625)
  line L418 (99.5125, -99.4625) -> (118.5125, -99.4625)
  line L419 (118.5125, -99.4625) -> (118.5125, -80.4625)
  line L420 (118.5125, -104.275) -> (99.5125, -104.275)
  line L421 (99.5125, -104.275) -> (99.5125, -180.425)
  line L422 (99.5125, -180.425) -> (118.5125, -180.425)
  line L423 (118.5125, -180.425) -> (118.5125, -104.275)
  line L424 (118.5125, -185.2375) -> (99.5125, -185.2375)
  line L425 (99.5125, -185.2375) -> (99.5125, -261.3875)
  line L426 (99.5125, -261.3875) -> (118.5125, -261.3875)
  line L427 (118.5125, -261.3875) -> (118.5125, -185.2375)
  line L428 (118.5125, -266.2) -> (99.5125, -266.2)
  line L429 (99.5125, -266.2) -> (99.5125, -342.35)
  line L430 (99.5125, -342.35) -> (118.5125, -342.35)
  line L431 (118.5125, -342.35) -> (118.5125, -266.2)
  line L432 (118.5125, -347.1625) -> (99.5125, -347.1625)
  line L433 (99.5125, -347.1625) -> (99.5125, -366.1625)
  line L434 (99.5125, -366.1625) -> (118.5125, -366.1625)
  line L435 (118.5125, -366.1625) -> (118.5125, -347.1625)
  line L436 (118.5125, -375.7375) -> (99.5125, -375.7375)
  line L437 (99.5125, -375.7375) -> (99.5125, -394.7375)
  line L438 (99.5125, -394.7375) -> (118.5125, -394.7375)
  line L439 (118.5125, -394.7375) -> (118.5125, -375.7375)
  line L440 (94.7, -375.7375) -> (18.55, -375.7375)
  line L441 (18.55, -375.7375) -> (18.55, -394.7375)
  line L442 (18.55, -394.7375) -> (94.7, -394.7375)
  line L443 (94.7, -394.7375) -> (94.7, -375.7375)
  line L444 (94.7, 0.5) -> (-0.5, 0.5)
  line L445 (-0.5, 0.5) -> (-0.5, -75.65)
  line L446 (-0.5, -75.65) -> (94.7, -75.65)
  line L447 (94.7, -75.65) -> (94.7, 0.5)
  line L448 (94.7, -80.4625) -> (-0.5, -80.4625)
  line L449 (-0.5, -80.4625) -> (-0.5, -328.05)
  line L450 (-0.5, -328.05) -> (18.55, -328.05)
  line L451 (18.55, -328.05) -> (18.55, -347.1125)
  line L452 (18.55, -347.1125) -> (37.6, -347.1125)
  line L453 (37.6, -347.1125) -> (37.6, -366.1625)
  line L454 (37.6, -366.1625) -> (94.7, -366.1625)
  line L455 (94.7, -366.1625) -> (94.7, -80.4625)
  line L456 (-5.2625, -332.875) -> (-5.2625, -389.975)
  line L457 (-5.2625, -389.975) -> (13.7375, -389.975)
  line L458 (13.7375, -389.975) -> (13.7375, -370.925)
  line L459 (13.7375, -370.925) -> (32.7875, -370.925)
  line L460 (32.7875, -370.925) -> (32.7875, -351.925)
  line L461 (32.7875, -351.925) -> (13.7375, -351.925)
  line L462 (13.7375, -351.925) -> (13.7375, -332.875)
  line L463 (13.7375, -332.875) -> (-5.2625, -332.875)
  line L464 (-15.2625, 10.5) -> (128.5125, 10.5)
  line L465 (128.5125, 10.5) -> (128.5125, -404.7375)
  line L466 (128.5125, -404.7375) -> (-15.2625, -404.7375)
  line L467 (-15.2625, -404.7375) -> (-15.2625, 10.5)
  point P0 (0, 0)
  dimension "d0" = 37.05
  dimension "d1" = 18
  dimension "d2" = 0
  dimension "d3" = 0
  dimension "d4" = 18
  dimension "d5" = 1.05
  dimension "d6" = 37.05
  dimension "d7" = 18
  dimension "d8" = 1.05
  dimension "d10" = 18
  dimension "d12" = 18
  dimension "d13" = 18
  dimension "d15" = 18
  dimension "d16" = 18
  dimension "d17" = 1.05
  dimension "d18" = 1.05
  dimension "d21" = 18
  dimension "d25" = 1.05
  dimension "d26" = 37.05
  dimension "d27" = 18
  dimension "d33" = 1.05
  dimension "d34" = 18
  dimension "d37" = 22.7625
  dimension "d38" = 5.8125
  dimension "d39" = 22.7625
  dimension "d40" = 22.7625
  dimension "d41" = 1.05
  dimension "d42" = 1.05
  dimension "d43" = 1.05
  dimension "d44" = 1.05
  dimension "d45" = 1.05
  dimension "d46" = 1.05
  dimension "d47" = 18
  dimension "d48" = 18
  dimension "d49" = 18
  dimension "d50" = 118
  dimension "d51" = 41.8125
  dimension "d52" = 1.05
  dimension "d53" = 32.2875
  dimension "d54" = 27.525
  dimension "d55" = 18
  dimension "d56" = 1.05
  dimension "d57" = 1.05
  dimension "d58" = 1.05
  dimension "d59" = 1.05
  dimension "d60" = 1.05
  dimension "d61" = 1.05
  dimension "d62" = 1.05
  dimension "d63" = 1.05
  dimension "d64" = 1.05
  dimension "d66" = 18
  dimension "d67" = 18
  dimension "d68" = 18
  dimension "d69" = 18
  dimension "d70" = 18
  dimension "d71" = 18
  dimension "d72" = 18
  dimension "d73" = 18
  dimension "d74" = 18
  dimension "d75" = 18
  dimension "d76" = 1.05
  dimension "d77" = 1.05
  dimension "d78" = 32.2875
  dimension "d79" = 18
extrude "Extrusion1" add sketch "Sketch1" along normal blind 1 contours L464 L465 L466 L467
equation "\"d0\" = u2"
equation "\"d1\" = u1"
equation "\"d4\" = u1"
equation "\"d5\" = spacing"
equation "\"d6\" = u2"
equation "\"d7\" = u1"
equation "\"d8\" = spacing"
equation "\"d10\" = u1"
equation "\"d12\" = u1"
equation "\"d13\" = u1"
equation "\"d15\" = u1"
equation "\"d16\" = u1"
equation "\"d17\" = spacing"
equation "\"d18\" = spacing"
equation "\"d21\" = u1"
equation "\"d25\" = spacing"
equation "\"d26\" = u2"
equation "\"d27\" = u1"
equation "\"d33\" = spacing"
equation "\"d34\" = u1"
equation "\"d37\" = u125"
equation "\"d39\" = u125"
equation "\"d40\" = u125"
equation "\"d41\" = spacing"
equation "\"d42\" = spacing"
equation "\"d43\" = spacing"
equation "\"d44\" = spacing"
equation "\"d45\" = spacing"
equation "\"d46\" = spacing"
equation "\"d47\" = u1"
equation "\"d48\" = u1"
equation "\"d49\" = u1"
equation "\"d50\" = uspace"
equation "\"d51\" = u225"
equation "\"d52\" = spacing"
equation "\"d53\" = u175"
equation "\"d54\" = u15"
equation "\"d55\" = u1"
equation "\"d56\" = spacing"
equation "\"d57\" = spacing"
equation "\"d58\" = spacing"
equation "\"d59\" = spacing"
equation "\"d60\" = spacing"
equation "\"d61\" = spacing"
equation "\"d62\" = spacing"
equation "\"d63\" = spacing"
equation "\"d64\" = spacing"
equation "\"d66\" = u1"
equation "\"d67\" = u1"
equation "\"d68\" = u1"
equation "\"d69\" = u1"
equation "\"d70\" = u1"
equation "\"d71\" = u1"
equation "\"d72\" = u1"
equation "\"d73\" = u1"
equation "\"d74\" = u1"
equation "\"d75\" = u1"
equation "\"d76\" = spacing"
equation "\"d77\" = spacing"
equation "\"d78\" = u175"
equation "\"d79\" = u1"
equation "\"u2\" = 37.05"
equation "\"u1\" = 18"
equation "\"u125\" = 22.7625"
equation "\"u15\" = 27.525"
equation "\"u175\" = 32.2875"
equation "\"u225\" = 41.8125"
equation "\"u25\" = 46.575"
equation "\"u275\" = 51.3375"
equation "\"spacing\" = 1.05"
equation "\"uspace\" = 118"
equation "\"spacing2\" = 5.8125"
equation "\"size\" = 19.05"
equation "\"gap\" = 0.5"
properties part number "Layout"
